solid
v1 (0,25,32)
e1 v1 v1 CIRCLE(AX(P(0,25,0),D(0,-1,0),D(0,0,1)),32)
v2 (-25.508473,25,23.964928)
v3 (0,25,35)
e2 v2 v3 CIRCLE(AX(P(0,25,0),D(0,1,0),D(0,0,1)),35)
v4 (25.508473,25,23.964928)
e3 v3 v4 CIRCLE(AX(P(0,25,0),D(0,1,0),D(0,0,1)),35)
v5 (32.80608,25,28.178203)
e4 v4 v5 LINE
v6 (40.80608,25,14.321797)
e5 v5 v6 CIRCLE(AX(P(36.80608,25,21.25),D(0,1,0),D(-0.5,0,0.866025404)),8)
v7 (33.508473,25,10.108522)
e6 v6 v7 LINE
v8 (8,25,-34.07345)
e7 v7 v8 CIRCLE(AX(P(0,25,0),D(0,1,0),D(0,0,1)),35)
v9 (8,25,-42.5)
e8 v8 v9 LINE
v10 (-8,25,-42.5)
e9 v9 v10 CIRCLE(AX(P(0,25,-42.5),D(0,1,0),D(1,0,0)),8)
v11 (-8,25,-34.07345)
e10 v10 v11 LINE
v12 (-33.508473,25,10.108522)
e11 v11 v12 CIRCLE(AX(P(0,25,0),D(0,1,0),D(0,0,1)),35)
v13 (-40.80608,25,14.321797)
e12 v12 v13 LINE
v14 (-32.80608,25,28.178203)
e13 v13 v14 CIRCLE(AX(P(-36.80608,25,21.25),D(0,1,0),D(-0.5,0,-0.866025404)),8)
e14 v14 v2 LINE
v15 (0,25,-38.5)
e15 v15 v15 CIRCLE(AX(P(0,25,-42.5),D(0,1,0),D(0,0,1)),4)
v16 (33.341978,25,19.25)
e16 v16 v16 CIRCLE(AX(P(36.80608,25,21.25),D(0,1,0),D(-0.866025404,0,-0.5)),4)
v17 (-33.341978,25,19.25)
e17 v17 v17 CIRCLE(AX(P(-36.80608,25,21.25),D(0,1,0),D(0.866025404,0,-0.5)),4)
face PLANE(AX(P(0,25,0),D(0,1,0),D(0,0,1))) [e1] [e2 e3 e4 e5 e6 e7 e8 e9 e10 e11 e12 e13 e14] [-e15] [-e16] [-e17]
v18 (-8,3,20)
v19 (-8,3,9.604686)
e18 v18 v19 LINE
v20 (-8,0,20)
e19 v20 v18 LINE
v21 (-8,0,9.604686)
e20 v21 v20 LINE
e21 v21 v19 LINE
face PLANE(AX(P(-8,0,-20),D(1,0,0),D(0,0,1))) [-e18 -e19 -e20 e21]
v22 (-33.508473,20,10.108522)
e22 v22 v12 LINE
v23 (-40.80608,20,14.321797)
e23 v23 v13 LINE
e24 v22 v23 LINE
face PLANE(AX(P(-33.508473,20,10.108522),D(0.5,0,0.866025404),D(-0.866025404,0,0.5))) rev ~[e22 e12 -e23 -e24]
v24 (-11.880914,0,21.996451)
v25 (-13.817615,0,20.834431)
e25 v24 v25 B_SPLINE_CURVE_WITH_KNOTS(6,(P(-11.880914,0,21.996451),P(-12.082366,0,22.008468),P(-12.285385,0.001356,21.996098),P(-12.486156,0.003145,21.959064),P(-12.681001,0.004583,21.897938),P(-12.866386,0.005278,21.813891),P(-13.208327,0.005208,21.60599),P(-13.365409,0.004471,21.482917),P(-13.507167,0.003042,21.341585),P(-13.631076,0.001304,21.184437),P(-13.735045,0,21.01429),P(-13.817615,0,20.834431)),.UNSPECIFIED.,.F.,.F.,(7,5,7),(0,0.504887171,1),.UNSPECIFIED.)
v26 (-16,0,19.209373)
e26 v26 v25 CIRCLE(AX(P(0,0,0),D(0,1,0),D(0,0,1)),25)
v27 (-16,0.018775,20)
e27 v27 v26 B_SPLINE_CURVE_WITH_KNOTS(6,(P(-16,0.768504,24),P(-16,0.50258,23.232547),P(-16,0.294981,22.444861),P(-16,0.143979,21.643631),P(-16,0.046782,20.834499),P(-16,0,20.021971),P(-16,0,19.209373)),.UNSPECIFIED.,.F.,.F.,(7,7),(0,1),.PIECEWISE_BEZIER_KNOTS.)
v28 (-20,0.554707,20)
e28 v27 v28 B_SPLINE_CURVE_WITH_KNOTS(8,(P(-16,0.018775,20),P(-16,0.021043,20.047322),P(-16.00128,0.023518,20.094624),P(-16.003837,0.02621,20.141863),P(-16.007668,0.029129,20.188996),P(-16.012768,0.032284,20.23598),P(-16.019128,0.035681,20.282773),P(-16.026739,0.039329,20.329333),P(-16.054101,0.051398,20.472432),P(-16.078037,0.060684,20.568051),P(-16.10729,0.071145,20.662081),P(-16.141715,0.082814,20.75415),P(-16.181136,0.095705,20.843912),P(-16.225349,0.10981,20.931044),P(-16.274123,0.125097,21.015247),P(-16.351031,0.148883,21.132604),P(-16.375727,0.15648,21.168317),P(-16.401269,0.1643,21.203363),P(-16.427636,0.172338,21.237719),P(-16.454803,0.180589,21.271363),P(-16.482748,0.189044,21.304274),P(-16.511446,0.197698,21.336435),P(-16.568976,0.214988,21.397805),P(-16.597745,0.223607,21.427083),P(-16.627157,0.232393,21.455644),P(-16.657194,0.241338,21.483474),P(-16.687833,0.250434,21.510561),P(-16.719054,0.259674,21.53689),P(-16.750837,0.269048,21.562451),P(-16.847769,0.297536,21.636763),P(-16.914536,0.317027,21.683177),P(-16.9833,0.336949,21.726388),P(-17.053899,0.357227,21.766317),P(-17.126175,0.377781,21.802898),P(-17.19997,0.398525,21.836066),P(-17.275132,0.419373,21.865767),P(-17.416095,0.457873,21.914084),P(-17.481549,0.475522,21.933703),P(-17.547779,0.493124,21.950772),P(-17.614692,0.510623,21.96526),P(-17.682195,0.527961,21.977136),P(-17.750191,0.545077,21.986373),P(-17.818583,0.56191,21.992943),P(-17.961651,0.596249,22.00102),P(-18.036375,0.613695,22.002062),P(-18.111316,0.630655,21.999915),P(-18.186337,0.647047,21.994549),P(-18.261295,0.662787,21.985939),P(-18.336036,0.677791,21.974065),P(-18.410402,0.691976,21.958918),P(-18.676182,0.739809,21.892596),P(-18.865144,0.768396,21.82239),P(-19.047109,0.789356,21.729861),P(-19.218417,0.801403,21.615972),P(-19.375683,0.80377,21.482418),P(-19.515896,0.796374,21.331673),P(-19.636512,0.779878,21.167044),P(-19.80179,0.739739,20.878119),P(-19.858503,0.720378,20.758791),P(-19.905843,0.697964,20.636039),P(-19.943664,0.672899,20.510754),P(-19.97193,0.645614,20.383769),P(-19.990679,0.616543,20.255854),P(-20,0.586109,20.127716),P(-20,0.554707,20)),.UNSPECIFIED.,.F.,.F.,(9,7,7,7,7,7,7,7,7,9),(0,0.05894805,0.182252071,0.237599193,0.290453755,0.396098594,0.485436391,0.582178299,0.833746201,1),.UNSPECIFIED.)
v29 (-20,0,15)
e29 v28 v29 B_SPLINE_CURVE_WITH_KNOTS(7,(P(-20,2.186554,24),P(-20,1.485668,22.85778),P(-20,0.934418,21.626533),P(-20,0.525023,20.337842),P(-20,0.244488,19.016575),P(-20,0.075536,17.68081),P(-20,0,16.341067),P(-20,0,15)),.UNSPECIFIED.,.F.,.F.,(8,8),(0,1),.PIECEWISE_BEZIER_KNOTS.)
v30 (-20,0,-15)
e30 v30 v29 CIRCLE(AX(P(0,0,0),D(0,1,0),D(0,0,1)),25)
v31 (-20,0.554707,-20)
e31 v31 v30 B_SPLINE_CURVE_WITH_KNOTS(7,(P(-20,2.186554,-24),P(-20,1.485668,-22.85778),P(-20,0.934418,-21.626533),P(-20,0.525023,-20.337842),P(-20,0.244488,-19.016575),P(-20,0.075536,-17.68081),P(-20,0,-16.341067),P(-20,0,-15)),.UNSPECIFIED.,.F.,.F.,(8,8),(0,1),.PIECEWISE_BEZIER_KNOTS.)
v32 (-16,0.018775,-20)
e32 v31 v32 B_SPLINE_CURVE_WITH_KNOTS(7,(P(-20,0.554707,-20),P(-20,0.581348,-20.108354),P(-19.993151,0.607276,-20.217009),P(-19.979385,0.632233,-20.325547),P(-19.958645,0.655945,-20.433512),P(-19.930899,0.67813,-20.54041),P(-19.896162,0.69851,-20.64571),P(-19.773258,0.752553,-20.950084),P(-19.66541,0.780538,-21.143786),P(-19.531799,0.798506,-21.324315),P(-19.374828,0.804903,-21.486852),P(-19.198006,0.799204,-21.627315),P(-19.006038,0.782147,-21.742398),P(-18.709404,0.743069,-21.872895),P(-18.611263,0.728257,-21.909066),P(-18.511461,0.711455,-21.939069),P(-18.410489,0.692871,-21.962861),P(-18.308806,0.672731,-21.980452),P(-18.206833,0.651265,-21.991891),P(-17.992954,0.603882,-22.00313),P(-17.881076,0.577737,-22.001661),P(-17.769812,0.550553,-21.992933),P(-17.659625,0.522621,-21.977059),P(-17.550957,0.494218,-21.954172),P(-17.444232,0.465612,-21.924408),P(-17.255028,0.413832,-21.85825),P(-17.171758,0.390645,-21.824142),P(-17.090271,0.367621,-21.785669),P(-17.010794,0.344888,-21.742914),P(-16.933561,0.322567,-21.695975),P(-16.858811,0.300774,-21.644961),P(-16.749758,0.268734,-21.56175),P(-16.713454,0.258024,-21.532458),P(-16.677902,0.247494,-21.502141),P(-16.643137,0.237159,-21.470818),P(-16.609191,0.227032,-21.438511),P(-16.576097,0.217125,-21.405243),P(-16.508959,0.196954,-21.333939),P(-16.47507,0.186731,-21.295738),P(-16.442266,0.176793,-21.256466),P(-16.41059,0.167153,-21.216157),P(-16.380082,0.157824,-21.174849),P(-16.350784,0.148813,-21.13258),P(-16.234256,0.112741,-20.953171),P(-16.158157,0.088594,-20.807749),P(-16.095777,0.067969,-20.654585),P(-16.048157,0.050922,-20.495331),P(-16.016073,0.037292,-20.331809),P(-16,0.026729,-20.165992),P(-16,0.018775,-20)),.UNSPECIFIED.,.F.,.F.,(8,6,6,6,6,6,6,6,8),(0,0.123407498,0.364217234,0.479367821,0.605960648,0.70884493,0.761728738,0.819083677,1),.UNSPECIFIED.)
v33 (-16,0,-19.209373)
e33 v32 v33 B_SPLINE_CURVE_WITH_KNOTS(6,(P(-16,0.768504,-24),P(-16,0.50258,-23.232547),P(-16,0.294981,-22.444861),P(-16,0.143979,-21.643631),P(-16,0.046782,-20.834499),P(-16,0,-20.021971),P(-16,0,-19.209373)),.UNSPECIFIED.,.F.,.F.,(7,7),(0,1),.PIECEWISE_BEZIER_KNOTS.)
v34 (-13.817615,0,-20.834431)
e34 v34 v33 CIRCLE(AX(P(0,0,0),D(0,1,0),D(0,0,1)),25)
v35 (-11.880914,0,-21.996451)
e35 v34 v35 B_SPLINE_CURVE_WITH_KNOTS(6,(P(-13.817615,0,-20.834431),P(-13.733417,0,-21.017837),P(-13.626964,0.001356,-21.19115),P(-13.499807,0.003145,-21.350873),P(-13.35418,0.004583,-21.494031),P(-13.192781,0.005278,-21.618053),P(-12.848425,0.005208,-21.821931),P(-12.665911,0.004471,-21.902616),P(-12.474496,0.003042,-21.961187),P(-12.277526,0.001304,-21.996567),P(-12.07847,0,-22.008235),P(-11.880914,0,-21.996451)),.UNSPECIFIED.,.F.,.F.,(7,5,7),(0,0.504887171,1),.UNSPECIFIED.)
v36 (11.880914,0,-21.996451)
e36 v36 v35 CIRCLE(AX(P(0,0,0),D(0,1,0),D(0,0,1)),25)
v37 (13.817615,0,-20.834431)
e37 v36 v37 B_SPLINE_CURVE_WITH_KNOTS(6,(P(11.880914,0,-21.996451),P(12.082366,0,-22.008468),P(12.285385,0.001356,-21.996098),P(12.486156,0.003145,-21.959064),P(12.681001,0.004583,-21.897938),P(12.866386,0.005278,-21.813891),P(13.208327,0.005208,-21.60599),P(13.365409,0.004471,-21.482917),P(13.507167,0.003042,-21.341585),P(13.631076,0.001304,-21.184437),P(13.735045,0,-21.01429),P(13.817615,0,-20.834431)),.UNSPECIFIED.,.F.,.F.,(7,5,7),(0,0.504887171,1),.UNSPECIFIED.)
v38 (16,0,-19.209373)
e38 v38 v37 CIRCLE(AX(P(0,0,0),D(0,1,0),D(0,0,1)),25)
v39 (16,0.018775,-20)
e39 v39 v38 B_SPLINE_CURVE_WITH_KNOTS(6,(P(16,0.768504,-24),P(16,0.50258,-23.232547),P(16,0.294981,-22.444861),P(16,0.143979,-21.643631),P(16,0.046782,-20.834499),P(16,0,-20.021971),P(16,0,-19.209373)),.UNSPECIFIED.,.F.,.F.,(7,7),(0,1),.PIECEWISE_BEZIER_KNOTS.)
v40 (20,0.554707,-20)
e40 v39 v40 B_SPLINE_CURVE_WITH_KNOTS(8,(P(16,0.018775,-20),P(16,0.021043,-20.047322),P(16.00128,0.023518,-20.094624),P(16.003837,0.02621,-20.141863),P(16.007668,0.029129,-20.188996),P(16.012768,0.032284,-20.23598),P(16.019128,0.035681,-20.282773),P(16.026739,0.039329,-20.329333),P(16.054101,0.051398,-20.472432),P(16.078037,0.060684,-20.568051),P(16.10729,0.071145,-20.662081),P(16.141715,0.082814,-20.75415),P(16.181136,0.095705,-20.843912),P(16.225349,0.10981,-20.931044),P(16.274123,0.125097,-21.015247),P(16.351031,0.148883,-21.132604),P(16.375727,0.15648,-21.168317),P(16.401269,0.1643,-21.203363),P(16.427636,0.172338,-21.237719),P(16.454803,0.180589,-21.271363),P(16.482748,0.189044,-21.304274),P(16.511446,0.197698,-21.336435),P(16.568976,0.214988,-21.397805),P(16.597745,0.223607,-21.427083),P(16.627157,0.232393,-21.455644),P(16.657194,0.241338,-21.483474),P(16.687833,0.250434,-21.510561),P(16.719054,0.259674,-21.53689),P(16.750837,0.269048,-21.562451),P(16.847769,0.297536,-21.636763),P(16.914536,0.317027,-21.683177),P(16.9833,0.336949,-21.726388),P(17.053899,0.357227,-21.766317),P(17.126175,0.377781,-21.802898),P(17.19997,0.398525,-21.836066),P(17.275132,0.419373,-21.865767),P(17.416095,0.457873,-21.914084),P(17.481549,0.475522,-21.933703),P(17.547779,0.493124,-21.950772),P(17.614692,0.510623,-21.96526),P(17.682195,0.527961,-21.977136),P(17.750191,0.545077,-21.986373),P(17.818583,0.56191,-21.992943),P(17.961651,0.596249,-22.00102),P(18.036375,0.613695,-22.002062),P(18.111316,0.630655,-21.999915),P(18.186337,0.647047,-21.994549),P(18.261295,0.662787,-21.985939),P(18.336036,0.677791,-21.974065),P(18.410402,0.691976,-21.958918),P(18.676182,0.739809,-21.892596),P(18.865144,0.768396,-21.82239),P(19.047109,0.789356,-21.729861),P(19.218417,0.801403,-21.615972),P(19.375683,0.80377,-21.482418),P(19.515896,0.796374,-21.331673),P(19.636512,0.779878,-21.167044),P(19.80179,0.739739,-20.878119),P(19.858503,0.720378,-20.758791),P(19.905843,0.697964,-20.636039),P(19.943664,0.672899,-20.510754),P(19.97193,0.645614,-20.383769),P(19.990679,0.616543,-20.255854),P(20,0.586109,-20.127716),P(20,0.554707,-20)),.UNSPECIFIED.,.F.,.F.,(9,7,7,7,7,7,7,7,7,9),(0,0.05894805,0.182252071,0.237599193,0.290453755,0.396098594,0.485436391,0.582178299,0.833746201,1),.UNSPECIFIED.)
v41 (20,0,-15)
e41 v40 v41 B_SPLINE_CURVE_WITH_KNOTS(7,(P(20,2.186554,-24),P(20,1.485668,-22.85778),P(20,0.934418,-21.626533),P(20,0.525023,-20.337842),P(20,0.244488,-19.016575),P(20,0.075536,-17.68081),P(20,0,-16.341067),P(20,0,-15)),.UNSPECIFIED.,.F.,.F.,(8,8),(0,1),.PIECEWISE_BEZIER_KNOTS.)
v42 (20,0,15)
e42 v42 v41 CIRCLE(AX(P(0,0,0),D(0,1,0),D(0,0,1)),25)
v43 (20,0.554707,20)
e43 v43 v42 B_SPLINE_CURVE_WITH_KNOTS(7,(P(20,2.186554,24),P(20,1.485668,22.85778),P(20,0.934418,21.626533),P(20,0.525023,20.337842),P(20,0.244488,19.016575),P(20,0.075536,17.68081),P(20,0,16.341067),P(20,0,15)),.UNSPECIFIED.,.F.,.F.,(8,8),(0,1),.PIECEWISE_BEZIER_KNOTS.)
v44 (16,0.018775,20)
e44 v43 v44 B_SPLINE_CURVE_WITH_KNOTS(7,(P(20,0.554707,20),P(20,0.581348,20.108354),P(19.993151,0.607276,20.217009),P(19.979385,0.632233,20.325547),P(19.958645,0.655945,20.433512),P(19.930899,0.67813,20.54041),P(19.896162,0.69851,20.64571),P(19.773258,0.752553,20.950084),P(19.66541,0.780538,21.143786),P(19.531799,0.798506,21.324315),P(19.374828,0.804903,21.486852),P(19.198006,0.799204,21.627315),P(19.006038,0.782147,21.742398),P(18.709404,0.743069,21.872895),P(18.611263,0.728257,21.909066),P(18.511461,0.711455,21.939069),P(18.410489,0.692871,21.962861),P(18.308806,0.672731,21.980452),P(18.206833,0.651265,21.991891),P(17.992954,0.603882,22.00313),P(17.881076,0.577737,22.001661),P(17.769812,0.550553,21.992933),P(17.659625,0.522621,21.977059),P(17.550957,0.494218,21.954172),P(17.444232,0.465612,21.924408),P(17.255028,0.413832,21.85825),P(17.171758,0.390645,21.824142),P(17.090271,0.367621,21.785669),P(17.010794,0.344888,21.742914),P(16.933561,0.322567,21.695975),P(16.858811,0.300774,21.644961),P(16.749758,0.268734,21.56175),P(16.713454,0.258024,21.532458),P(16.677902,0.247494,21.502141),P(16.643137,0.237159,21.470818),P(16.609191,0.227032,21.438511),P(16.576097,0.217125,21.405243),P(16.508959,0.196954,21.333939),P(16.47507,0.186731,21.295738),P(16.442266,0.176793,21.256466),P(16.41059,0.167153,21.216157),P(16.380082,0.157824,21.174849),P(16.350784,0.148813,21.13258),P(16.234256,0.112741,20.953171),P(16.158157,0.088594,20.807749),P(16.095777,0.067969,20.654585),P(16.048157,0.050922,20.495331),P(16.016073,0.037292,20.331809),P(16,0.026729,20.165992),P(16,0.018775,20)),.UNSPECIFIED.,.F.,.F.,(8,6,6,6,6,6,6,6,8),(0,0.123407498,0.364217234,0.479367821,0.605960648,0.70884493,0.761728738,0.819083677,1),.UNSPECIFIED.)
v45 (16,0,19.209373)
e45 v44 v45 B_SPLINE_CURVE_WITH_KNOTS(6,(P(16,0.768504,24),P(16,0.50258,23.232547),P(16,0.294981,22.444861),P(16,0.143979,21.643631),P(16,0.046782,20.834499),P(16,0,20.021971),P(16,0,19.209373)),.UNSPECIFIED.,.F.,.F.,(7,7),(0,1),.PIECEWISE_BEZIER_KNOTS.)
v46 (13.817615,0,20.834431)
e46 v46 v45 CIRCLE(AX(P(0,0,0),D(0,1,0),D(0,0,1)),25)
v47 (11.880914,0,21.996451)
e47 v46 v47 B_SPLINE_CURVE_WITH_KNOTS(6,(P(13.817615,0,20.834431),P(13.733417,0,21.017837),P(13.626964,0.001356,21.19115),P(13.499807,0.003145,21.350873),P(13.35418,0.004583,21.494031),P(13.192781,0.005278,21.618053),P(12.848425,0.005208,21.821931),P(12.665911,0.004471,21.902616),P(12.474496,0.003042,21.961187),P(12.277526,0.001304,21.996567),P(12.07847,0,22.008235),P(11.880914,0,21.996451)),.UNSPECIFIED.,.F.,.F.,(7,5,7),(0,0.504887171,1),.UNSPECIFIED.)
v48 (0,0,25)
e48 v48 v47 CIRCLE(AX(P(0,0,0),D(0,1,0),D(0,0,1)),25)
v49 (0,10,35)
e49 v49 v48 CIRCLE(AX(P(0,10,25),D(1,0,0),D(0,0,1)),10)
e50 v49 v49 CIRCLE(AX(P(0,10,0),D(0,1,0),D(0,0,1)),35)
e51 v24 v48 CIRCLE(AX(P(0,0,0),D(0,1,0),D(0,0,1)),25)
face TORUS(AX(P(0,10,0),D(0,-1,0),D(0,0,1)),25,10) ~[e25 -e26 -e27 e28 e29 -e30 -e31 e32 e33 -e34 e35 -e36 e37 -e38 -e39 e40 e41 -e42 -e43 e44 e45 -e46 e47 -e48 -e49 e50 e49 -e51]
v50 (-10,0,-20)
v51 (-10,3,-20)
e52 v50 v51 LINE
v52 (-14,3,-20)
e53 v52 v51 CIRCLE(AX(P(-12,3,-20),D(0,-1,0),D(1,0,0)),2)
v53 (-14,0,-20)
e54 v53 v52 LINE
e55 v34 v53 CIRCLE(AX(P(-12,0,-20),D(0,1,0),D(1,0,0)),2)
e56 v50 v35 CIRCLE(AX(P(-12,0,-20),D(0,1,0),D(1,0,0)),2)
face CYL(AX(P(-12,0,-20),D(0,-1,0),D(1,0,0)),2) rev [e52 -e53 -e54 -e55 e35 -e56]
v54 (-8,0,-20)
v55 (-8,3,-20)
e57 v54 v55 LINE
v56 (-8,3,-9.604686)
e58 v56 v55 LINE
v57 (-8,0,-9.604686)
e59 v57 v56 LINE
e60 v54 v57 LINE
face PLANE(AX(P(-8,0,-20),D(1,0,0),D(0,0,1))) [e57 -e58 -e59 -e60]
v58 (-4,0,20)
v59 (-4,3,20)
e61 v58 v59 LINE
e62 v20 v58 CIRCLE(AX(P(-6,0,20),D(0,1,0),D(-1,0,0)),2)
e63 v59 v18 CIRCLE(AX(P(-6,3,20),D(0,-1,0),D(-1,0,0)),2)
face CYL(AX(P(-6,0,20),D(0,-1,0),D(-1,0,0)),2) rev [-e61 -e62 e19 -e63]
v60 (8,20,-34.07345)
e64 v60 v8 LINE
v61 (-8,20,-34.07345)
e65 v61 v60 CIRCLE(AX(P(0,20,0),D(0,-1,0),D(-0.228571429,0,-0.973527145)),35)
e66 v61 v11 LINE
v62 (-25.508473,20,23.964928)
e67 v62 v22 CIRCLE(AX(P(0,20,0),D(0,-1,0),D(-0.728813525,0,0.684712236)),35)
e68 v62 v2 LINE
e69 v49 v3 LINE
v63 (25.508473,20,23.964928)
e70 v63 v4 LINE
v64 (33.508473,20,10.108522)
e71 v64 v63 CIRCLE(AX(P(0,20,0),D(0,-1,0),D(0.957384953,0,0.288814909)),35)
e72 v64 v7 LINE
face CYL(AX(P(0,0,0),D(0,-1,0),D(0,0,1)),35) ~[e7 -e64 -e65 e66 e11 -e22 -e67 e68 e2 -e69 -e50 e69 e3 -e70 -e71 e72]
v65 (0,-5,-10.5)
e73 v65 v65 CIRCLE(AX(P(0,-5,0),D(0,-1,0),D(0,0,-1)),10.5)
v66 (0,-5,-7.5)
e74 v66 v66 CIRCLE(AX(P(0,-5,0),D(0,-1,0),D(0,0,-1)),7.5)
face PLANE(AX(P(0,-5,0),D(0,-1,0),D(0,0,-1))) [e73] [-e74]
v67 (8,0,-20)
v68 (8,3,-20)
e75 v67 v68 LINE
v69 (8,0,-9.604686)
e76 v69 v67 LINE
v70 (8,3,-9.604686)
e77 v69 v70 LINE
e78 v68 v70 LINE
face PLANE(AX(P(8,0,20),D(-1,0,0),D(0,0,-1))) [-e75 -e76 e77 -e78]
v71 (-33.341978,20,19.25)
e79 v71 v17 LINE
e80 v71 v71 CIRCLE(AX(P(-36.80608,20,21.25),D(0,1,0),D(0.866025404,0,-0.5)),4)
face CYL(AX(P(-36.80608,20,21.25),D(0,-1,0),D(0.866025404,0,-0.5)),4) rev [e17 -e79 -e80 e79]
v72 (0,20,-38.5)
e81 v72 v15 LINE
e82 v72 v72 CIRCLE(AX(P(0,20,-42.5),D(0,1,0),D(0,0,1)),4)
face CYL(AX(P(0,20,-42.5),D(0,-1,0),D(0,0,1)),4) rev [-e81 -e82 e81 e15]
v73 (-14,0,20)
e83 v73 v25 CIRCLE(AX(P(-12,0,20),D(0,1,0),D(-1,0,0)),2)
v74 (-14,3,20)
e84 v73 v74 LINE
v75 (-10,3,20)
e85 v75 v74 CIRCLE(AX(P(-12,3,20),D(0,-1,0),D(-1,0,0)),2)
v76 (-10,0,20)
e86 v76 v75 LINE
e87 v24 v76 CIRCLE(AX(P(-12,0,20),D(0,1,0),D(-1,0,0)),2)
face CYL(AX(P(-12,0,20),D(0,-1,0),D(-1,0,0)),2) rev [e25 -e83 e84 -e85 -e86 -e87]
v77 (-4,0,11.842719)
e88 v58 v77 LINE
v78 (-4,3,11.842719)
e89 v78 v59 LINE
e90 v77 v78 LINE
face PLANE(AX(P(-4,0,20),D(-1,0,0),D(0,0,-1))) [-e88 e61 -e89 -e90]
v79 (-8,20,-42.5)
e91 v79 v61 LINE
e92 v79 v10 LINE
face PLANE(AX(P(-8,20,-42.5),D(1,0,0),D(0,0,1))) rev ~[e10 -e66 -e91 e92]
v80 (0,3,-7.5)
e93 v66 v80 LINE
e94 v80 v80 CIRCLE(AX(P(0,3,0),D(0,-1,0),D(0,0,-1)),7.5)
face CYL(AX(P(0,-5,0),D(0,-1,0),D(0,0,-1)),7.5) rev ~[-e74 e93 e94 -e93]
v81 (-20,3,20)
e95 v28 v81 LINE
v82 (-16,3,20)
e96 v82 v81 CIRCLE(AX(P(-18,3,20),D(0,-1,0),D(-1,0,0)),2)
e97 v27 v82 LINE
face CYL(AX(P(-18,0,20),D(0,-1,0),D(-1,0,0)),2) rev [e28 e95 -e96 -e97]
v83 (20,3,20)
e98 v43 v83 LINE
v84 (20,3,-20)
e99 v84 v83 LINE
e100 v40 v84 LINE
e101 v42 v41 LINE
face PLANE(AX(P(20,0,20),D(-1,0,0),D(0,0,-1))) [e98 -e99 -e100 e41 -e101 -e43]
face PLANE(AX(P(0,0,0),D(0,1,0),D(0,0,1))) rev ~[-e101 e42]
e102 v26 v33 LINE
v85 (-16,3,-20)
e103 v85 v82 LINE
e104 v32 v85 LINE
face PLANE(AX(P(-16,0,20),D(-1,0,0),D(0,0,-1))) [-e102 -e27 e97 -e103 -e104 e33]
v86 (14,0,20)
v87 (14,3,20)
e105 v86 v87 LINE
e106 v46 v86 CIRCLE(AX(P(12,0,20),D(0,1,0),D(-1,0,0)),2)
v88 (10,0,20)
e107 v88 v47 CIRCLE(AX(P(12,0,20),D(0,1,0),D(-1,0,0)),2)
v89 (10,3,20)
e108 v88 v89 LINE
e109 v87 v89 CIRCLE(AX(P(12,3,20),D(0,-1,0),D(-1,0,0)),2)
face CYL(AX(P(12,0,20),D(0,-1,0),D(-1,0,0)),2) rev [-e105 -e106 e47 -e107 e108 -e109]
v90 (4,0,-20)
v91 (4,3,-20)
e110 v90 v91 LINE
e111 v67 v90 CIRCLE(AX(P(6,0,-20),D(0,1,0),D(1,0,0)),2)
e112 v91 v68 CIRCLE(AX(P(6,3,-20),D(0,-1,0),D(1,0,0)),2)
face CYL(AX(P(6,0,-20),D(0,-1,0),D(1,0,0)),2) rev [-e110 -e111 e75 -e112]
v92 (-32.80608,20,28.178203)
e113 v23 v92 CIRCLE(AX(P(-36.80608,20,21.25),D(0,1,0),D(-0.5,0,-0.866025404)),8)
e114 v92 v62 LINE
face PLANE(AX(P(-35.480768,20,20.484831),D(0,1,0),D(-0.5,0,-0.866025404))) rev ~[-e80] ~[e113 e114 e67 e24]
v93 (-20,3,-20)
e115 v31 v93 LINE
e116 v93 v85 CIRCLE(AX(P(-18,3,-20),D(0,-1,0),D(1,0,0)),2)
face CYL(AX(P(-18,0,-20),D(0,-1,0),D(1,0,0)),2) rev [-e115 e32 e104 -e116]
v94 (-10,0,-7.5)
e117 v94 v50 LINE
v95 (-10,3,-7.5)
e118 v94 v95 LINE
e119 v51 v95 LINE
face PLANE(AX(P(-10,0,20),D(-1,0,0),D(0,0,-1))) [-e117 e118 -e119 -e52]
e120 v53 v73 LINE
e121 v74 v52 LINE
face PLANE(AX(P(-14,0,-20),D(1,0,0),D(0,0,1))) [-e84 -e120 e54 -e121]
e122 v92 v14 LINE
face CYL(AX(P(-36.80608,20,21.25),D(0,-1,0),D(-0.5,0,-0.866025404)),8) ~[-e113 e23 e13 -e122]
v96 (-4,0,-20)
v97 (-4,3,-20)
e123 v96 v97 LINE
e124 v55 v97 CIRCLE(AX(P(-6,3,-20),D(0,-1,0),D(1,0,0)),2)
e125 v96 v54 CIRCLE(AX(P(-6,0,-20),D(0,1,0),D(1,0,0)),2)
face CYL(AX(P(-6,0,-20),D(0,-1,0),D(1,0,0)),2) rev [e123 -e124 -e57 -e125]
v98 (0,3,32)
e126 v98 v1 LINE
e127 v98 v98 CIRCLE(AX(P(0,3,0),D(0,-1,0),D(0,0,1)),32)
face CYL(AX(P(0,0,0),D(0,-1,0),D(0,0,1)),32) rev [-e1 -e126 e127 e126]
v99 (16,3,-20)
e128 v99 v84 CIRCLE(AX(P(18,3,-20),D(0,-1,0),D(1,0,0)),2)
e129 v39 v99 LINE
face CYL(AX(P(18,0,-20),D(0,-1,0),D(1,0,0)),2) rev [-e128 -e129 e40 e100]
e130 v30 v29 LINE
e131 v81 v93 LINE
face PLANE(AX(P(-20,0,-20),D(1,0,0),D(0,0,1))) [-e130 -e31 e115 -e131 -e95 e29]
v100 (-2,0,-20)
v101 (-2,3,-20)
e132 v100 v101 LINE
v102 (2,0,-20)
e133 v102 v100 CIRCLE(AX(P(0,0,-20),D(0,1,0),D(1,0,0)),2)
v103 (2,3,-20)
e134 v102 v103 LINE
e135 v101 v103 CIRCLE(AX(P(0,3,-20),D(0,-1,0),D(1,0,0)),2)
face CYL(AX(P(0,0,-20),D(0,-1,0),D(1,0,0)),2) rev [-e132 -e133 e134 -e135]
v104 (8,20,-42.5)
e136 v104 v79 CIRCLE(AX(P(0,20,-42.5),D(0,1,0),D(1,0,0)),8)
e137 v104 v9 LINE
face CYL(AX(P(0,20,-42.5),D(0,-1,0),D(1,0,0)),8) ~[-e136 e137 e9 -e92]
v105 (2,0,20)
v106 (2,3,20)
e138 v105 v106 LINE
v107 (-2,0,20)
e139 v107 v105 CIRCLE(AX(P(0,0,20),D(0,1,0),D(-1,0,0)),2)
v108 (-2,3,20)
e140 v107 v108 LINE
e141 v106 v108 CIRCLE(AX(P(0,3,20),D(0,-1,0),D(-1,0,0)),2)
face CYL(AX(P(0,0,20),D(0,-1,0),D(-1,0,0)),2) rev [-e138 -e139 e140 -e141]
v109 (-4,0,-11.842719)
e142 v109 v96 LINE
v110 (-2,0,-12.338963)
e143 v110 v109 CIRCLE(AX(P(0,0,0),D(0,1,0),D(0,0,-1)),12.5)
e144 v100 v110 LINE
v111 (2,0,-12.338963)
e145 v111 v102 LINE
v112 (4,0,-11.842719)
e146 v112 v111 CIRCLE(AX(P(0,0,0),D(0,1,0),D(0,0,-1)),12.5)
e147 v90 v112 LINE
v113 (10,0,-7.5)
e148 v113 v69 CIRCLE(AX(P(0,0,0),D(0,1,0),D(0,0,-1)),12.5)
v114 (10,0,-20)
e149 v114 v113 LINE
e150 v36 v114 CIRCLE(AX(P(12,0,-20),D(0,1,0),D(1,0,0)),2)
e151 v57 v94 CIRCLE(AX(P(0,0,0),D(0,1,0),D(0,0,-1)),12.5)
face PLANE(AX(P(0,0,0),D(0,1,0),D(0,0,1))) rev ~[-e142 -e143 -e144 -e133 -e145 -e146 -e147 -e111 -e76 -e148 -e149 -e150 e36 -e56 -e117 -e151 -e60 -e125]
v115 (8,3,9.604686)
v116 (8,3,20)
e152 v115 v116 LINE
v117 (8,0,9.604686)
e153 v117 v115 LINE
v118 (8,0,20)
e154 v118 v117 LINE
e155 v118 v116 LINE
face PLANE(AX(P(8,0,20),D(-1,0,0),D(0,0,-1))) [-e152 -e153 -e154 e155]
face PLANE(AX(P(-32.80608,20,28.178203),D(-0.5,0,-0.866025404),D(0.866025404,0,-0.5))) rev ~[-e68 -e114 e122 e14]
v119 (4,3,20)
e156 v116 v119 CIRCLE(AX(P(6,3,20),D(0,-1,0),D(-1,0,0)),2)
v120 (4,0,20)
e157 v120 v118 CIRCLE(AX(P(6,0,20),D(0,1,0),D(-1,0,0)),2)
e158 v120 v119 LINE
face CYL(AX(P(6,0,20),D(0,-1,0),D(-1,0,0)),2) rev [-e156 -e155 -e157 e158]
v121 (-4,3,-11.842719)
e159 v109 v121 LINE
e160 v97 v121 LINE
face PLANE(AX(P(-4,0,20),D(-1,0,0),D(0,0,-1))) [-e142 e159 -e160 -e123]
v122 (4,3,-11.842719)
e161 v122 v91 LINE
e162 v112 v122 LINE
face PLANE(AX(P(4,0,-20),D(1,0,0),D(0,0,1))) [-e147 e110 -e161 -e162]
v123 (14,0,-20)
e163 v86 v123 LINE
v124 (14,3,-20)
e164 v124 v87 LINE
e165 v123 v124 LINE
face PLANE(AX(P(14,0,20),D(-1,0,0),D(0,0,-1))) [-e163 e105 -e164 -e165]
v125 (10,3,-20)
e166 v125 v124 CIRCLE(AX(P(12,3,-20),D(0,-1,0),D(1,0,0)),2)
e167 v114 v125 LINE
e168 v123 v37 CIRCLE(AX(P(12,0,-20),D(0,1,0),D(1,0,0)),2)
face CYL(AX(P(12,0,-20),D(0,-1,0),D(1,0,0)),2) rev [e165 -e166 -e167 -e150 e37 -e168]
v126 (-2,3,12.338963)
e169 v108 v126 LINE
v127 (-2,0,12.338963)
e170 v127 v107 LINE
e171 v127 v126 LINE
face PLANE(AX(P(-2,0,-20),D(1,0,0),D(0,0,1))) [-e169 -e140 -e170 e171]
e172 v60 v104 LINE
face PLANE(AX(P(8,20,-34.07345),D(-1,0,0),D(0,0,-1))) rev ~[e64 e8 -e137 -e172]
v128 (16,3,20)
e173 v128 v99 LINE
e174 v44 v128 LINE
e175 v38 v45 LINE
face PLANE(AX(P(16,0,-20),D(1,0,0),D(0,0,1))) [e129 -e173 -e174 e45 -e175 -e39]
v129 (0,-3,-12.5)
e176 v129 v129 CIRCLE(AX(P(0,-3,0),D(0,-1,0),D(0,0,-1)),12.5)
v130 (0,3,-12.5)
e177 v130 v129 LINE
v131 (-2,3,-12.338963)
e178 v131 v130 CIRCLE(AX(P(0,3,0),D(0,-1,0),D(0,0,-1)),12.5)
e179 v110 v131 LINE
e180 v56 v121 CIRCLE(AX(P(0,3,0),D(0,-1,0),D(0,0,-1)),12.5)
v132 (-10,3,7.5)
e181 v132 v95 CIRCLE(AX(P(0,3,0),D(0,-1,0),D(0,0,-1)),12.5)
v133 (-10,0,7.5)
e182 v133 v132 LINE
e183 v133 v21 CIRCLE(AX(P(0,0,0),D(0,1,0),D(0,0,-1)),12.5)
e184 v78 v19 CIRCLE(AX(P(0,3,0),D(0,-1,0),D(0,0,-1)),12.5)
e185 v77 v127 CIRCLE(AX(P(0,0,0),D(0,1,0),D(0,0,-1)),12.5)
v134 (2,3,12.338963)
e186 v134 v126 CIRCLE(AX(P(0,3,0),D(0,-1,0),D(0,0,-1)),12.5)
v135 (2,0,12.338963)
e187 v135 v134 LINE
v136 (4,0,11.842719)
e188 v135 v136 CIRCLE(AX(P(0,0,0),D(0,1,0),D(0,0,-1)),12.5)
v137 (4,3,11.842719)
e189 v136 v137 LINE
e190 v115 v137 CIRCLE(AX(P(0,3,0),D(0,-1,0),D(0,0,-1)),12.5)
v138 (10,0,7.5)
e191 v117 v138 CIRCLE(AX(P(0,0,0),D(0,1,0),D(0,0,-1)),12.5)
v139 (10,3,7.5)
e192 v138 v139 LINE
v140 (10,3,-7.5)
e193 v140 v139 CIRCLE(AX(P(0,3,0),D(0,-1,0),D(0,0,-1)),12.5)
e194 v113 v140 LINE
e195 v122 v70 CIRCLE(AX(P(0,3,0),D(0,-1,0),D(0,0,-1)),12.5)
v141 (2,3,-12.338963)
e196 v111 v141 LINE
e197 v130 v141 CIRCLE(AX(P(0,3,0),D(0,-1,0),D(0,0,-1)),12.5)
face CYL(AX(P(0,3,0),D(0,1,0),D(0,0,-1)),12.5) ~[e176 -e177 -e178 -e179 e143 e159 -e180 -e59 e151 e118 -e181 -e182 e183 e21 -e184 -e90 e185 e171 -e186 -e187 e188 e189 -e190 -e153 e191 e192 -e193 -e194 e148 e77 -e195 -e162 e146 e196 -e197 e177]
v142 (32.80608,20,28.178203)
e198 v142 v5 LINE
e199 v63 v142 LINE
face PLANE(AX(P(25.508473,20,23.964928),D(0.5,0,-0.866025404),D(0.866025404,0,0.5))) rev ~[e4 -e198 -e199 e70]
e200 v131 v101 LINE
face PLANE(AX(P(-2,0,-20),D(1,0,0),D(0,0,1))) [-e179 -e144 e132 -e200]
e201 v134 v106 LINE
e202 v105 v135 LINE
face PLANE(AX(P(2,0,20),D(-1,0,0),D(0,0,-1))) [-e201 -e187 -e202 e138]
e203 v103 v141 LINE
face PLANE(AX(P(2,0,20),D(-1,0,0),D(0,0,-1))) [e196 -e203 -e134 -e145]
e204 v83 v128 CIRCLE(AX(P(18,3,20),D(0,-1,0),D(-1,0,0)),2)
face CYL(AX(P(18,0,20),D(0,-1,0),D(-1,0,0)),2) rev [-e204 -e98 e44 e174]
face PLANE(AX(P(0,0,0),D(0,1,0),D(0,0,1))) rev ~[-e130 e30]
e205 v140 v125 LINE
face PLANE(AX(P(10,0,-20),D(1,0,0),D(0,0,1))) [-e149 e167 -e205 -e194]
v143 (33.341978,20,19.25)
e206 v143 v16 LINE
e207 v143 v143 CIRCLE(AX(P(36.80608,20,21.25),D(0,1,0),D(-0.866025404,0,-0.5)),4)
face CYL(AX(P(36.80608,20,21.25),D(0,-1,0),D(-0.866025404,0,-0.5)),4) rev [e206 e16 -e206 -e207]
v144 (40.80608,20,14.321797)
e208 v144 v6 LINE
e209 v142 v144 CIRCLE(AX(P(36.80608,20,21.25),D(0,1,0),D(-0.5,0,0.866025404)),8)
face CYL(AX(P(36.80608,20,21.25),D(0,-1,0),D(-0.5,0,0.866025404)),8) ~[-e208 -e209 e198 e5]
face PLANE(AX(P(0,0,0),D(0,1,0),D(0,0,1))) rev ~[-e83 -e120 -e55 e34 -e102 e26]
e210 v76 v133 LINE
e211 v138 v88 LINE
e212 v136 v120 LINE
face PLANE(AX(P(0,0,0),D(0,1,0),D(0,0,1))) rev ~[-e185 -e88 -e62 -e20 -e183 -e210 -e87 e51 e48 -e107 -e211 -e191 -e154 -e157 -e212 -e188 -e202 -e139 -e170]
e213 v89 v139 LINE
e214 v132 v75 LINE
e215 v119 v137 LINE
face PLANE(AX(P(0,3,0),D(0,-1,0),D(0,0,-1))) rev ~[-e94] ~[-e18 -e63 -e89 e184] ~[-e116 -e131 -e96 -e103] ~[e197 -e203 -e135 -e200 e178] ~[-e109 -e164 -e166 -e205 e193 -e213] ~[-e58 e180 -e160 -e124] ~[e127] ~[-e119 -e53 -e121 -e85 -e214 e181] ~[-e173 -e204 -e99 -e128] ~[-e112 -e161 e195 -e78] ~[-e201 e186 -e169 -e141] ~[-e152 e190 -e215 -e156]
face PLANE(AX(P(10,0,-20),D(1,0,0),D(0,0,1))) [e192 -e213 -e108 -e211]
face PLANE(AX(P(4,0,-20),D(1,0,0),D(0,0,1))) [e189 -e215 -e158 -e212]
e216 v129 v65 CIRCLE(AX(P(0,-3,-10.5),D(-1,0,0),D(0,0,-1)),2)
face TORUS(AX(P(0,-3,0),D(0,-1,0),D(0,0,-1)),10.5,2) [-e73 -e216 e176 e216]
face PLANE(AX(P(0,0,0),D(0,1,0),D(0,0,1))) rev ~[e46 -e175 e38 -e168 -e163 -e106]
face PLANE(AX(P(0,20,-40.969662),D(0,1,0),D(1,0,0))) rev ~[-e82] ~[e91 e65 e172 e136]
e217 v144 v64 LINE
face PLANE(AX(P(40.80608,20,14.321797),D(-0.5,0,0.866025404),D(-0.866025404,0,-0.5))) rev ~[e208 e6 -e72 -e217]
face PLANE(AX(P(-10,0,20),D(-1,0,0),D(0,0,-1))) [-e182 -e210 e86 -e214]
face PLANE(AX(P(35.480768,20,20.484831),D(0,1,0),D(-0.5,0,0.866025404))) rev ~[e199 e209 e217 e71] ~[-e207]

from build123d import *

# Parameters (mm, degrees)
SKETCH1_R                = 35
BOSS_EXTRUDE1_DEPTH      = 25
SHELL1_T                 = -3
FILLET1_R                = 10
BOSS_EXTRUDE2_START      = -5
SKETCH4_R                = 4
BOSS_EXTRUDE2_DEPTH      = 5
CIRPATTERN1_COUNT        = 3
CUT_EXTRUDE1_DEPTH       = 72.991907702
BOSS_EXTRUDE3_DEPTH      = 5
BOSS_EXTRUDE3_DEPTH_BACK = 3
SKETCH7_R                = 12.5
FILLET2_R                = 2
SKETCH8_R                = 7.5
CUT_EXTRUDE2_DEPTH       = 74.877160033


with BuildPart() as part:
    # Sketch1 → Boss-Extrude1 (new body)
    with BuildSketch(Plane(origin=(0, 0, 0), x_dir=(1, 0, 0), z_dir=(0, 1, 0))):
        with Locations(Location((0, 0, 0), (0, 0, 270))):
            Circle(SKETCH1_R)
    extrude(amount=BOSS_EXTRUDE1_DEPTH)

    # Shell1
    shell1_openings = [part.faces().sort_by_distance(p)[0] for p in [
        (0, 25, 0),
    ]]
    offset(amount=SHELL1_T, openings=shell1_openings, kind=Kind.INTERSECTION)

    # Fillet1
    fillet1_edges = [part.edges().sort_by_distance(p)[0] for p in [
        (0, 0, -35),
    ]]
    fillet(fillet1_edges, radius=FILLET1_R)

    # Sketch4 → Boss-Extrude2 (add)
    with BuildSketch(Plane(origin=(0, 25, 0), x_dir=(1, 0, 0), z_dir=(0, 1, 0)).offset(BOSS_EXTRUDE2_START)):
        with BuildLine():
            Line((-8, 42.5), (-8, 34.073450075))
            ThreePointArc((-8, 34.073450075), (0, 35), (8, 34.073450075))
            Line((8, 34.073450075), (8, 42.5))
            ThreePointArc((8, 42.5), (0, 50.5), (-8, 42.5))
        make_face()
        with Locations(Location((0, 42.5, 0), (0, 0, 270))):
            Circle(SKETCH4_R, mode=Mode.SUBTRACT)
    boss_extrude2 = extrude(amount=BOSS_EXTRUDE2_DEPTH)

    # CirPattern1: Boss-Extrude2 ×3 about axis
    cirpattern1_axis = Axis((0, 0, 0), (0, 1, 0))
    for i in range(1, CIRPATTERN1_COUNT):
        add(boss_extrude2.rotate(cirpattern1_axis, i * 360 / CIRPATTERN1_COUNT))

    # Sketch5 → Cut-Extrude1 (cut, through all)
    with BuildSketch(Plane.XZ):
        with BuildLine():
            Line((-16, 20), (-16, -20))
            ThreePointArc((-16, -20), (-18, -22), (-20, -20))
            Line((-20, -20), (-20, 20))
            ThreePointArc((-20, 20), (-18, 22), (-16, 20))
        make_face()
        with BuildLine():
            Line((-10, 20), (-10, -20))
            ThreePointArc((-10, -20), (-12, -22), (-14, -20))
            Line((-14, -20), (-14, 20))
            ThreePointArc((-14, 20), (-12, 22), (-10, 20))
        make_face()
        with BuildLine():
            Line((-4, 20), (-4, -20))
            ThreePointArc((-4, -20), (-6, -22), (-8, -20))
            Line((-8, -20), (-8, 20))
            ThreePointArc((-8, 20), (-6, 22), (-4, 20))
        make_face()
        with BuildLine():
            Line((2, 20), (2, -20))
            ThreePointArc((2, -20), (0, -22), (-2, -20))
            Line((-2, -20), (-2, 20))
            ThreePointArc((-2, 20), (0, 22), (2, 20))
        make_face()
        with BuildLine():
            Line((8, 20), (8, -20))
            ThreePointArc((8, -20), (6, -22), (4, -20))
            Line((4, -20), (4, 20))
            ThreePointArc((4, 20), (6, 22), (8, 20))
        make_face()
        with BuildLine():
            Line((14, 20), (14, -20))
            ThreePointArc((14, -20), (12, -22), (10, -20))
            Line((10, -20), (10, 20))
            ThreePointArc((10, 20), (12, 22), (14, 20))
        make_face()
        with BuildLine():
            Line((20, 20), (20, -20))
            ThreePointArc((20, -20), (18, -22), (16, -20))
            Line((16, -20), (16, 20))
            ThreePointArc((16, 20), (18, 22), (20, 20))
        make_face()
    extrude(amount=-CUT_EXTRUDE1_DEPTH, mode=Mode.SUBTRACT)

    # Sketch7 → Boss-Extrude3 (add, two sides: drawn at the far end of the back side and taken through both)
    with BuildSketch(Plane.XZ.offset(-BOSS_EXTRUDE3_DEPTH_BACK)):
        with Locations(Location((0, 0, 0), (0, 0, 270))):
            Circle(SKETCH7_R)
    extrude(amount=BOSS_EXTRUDE3_DEPTH + BOSS_EXTRUDE3_DEPTH_BACK)

    # Fillet2
    fillet2_edges = [part.edges().sort_by_distance(p)[0] for p in [
        (0, -5, 12.5),
    ]]
    fillet(fillet2_edges, radius=FILLET2_R)

    # Sketch8 → Cut-Extrude2 (cut, through all)
    with BuildSketch(Plane.XZ.offset(5)):
        with Locations(Location((0, 0, 0), (0, 0, 270))):
            Circle(SKETCH8_R)
    extrude(amount=-CUT_EXTRUDE2_DEPTH, mode=Mode.SUBTRACT)


solid = part.part
